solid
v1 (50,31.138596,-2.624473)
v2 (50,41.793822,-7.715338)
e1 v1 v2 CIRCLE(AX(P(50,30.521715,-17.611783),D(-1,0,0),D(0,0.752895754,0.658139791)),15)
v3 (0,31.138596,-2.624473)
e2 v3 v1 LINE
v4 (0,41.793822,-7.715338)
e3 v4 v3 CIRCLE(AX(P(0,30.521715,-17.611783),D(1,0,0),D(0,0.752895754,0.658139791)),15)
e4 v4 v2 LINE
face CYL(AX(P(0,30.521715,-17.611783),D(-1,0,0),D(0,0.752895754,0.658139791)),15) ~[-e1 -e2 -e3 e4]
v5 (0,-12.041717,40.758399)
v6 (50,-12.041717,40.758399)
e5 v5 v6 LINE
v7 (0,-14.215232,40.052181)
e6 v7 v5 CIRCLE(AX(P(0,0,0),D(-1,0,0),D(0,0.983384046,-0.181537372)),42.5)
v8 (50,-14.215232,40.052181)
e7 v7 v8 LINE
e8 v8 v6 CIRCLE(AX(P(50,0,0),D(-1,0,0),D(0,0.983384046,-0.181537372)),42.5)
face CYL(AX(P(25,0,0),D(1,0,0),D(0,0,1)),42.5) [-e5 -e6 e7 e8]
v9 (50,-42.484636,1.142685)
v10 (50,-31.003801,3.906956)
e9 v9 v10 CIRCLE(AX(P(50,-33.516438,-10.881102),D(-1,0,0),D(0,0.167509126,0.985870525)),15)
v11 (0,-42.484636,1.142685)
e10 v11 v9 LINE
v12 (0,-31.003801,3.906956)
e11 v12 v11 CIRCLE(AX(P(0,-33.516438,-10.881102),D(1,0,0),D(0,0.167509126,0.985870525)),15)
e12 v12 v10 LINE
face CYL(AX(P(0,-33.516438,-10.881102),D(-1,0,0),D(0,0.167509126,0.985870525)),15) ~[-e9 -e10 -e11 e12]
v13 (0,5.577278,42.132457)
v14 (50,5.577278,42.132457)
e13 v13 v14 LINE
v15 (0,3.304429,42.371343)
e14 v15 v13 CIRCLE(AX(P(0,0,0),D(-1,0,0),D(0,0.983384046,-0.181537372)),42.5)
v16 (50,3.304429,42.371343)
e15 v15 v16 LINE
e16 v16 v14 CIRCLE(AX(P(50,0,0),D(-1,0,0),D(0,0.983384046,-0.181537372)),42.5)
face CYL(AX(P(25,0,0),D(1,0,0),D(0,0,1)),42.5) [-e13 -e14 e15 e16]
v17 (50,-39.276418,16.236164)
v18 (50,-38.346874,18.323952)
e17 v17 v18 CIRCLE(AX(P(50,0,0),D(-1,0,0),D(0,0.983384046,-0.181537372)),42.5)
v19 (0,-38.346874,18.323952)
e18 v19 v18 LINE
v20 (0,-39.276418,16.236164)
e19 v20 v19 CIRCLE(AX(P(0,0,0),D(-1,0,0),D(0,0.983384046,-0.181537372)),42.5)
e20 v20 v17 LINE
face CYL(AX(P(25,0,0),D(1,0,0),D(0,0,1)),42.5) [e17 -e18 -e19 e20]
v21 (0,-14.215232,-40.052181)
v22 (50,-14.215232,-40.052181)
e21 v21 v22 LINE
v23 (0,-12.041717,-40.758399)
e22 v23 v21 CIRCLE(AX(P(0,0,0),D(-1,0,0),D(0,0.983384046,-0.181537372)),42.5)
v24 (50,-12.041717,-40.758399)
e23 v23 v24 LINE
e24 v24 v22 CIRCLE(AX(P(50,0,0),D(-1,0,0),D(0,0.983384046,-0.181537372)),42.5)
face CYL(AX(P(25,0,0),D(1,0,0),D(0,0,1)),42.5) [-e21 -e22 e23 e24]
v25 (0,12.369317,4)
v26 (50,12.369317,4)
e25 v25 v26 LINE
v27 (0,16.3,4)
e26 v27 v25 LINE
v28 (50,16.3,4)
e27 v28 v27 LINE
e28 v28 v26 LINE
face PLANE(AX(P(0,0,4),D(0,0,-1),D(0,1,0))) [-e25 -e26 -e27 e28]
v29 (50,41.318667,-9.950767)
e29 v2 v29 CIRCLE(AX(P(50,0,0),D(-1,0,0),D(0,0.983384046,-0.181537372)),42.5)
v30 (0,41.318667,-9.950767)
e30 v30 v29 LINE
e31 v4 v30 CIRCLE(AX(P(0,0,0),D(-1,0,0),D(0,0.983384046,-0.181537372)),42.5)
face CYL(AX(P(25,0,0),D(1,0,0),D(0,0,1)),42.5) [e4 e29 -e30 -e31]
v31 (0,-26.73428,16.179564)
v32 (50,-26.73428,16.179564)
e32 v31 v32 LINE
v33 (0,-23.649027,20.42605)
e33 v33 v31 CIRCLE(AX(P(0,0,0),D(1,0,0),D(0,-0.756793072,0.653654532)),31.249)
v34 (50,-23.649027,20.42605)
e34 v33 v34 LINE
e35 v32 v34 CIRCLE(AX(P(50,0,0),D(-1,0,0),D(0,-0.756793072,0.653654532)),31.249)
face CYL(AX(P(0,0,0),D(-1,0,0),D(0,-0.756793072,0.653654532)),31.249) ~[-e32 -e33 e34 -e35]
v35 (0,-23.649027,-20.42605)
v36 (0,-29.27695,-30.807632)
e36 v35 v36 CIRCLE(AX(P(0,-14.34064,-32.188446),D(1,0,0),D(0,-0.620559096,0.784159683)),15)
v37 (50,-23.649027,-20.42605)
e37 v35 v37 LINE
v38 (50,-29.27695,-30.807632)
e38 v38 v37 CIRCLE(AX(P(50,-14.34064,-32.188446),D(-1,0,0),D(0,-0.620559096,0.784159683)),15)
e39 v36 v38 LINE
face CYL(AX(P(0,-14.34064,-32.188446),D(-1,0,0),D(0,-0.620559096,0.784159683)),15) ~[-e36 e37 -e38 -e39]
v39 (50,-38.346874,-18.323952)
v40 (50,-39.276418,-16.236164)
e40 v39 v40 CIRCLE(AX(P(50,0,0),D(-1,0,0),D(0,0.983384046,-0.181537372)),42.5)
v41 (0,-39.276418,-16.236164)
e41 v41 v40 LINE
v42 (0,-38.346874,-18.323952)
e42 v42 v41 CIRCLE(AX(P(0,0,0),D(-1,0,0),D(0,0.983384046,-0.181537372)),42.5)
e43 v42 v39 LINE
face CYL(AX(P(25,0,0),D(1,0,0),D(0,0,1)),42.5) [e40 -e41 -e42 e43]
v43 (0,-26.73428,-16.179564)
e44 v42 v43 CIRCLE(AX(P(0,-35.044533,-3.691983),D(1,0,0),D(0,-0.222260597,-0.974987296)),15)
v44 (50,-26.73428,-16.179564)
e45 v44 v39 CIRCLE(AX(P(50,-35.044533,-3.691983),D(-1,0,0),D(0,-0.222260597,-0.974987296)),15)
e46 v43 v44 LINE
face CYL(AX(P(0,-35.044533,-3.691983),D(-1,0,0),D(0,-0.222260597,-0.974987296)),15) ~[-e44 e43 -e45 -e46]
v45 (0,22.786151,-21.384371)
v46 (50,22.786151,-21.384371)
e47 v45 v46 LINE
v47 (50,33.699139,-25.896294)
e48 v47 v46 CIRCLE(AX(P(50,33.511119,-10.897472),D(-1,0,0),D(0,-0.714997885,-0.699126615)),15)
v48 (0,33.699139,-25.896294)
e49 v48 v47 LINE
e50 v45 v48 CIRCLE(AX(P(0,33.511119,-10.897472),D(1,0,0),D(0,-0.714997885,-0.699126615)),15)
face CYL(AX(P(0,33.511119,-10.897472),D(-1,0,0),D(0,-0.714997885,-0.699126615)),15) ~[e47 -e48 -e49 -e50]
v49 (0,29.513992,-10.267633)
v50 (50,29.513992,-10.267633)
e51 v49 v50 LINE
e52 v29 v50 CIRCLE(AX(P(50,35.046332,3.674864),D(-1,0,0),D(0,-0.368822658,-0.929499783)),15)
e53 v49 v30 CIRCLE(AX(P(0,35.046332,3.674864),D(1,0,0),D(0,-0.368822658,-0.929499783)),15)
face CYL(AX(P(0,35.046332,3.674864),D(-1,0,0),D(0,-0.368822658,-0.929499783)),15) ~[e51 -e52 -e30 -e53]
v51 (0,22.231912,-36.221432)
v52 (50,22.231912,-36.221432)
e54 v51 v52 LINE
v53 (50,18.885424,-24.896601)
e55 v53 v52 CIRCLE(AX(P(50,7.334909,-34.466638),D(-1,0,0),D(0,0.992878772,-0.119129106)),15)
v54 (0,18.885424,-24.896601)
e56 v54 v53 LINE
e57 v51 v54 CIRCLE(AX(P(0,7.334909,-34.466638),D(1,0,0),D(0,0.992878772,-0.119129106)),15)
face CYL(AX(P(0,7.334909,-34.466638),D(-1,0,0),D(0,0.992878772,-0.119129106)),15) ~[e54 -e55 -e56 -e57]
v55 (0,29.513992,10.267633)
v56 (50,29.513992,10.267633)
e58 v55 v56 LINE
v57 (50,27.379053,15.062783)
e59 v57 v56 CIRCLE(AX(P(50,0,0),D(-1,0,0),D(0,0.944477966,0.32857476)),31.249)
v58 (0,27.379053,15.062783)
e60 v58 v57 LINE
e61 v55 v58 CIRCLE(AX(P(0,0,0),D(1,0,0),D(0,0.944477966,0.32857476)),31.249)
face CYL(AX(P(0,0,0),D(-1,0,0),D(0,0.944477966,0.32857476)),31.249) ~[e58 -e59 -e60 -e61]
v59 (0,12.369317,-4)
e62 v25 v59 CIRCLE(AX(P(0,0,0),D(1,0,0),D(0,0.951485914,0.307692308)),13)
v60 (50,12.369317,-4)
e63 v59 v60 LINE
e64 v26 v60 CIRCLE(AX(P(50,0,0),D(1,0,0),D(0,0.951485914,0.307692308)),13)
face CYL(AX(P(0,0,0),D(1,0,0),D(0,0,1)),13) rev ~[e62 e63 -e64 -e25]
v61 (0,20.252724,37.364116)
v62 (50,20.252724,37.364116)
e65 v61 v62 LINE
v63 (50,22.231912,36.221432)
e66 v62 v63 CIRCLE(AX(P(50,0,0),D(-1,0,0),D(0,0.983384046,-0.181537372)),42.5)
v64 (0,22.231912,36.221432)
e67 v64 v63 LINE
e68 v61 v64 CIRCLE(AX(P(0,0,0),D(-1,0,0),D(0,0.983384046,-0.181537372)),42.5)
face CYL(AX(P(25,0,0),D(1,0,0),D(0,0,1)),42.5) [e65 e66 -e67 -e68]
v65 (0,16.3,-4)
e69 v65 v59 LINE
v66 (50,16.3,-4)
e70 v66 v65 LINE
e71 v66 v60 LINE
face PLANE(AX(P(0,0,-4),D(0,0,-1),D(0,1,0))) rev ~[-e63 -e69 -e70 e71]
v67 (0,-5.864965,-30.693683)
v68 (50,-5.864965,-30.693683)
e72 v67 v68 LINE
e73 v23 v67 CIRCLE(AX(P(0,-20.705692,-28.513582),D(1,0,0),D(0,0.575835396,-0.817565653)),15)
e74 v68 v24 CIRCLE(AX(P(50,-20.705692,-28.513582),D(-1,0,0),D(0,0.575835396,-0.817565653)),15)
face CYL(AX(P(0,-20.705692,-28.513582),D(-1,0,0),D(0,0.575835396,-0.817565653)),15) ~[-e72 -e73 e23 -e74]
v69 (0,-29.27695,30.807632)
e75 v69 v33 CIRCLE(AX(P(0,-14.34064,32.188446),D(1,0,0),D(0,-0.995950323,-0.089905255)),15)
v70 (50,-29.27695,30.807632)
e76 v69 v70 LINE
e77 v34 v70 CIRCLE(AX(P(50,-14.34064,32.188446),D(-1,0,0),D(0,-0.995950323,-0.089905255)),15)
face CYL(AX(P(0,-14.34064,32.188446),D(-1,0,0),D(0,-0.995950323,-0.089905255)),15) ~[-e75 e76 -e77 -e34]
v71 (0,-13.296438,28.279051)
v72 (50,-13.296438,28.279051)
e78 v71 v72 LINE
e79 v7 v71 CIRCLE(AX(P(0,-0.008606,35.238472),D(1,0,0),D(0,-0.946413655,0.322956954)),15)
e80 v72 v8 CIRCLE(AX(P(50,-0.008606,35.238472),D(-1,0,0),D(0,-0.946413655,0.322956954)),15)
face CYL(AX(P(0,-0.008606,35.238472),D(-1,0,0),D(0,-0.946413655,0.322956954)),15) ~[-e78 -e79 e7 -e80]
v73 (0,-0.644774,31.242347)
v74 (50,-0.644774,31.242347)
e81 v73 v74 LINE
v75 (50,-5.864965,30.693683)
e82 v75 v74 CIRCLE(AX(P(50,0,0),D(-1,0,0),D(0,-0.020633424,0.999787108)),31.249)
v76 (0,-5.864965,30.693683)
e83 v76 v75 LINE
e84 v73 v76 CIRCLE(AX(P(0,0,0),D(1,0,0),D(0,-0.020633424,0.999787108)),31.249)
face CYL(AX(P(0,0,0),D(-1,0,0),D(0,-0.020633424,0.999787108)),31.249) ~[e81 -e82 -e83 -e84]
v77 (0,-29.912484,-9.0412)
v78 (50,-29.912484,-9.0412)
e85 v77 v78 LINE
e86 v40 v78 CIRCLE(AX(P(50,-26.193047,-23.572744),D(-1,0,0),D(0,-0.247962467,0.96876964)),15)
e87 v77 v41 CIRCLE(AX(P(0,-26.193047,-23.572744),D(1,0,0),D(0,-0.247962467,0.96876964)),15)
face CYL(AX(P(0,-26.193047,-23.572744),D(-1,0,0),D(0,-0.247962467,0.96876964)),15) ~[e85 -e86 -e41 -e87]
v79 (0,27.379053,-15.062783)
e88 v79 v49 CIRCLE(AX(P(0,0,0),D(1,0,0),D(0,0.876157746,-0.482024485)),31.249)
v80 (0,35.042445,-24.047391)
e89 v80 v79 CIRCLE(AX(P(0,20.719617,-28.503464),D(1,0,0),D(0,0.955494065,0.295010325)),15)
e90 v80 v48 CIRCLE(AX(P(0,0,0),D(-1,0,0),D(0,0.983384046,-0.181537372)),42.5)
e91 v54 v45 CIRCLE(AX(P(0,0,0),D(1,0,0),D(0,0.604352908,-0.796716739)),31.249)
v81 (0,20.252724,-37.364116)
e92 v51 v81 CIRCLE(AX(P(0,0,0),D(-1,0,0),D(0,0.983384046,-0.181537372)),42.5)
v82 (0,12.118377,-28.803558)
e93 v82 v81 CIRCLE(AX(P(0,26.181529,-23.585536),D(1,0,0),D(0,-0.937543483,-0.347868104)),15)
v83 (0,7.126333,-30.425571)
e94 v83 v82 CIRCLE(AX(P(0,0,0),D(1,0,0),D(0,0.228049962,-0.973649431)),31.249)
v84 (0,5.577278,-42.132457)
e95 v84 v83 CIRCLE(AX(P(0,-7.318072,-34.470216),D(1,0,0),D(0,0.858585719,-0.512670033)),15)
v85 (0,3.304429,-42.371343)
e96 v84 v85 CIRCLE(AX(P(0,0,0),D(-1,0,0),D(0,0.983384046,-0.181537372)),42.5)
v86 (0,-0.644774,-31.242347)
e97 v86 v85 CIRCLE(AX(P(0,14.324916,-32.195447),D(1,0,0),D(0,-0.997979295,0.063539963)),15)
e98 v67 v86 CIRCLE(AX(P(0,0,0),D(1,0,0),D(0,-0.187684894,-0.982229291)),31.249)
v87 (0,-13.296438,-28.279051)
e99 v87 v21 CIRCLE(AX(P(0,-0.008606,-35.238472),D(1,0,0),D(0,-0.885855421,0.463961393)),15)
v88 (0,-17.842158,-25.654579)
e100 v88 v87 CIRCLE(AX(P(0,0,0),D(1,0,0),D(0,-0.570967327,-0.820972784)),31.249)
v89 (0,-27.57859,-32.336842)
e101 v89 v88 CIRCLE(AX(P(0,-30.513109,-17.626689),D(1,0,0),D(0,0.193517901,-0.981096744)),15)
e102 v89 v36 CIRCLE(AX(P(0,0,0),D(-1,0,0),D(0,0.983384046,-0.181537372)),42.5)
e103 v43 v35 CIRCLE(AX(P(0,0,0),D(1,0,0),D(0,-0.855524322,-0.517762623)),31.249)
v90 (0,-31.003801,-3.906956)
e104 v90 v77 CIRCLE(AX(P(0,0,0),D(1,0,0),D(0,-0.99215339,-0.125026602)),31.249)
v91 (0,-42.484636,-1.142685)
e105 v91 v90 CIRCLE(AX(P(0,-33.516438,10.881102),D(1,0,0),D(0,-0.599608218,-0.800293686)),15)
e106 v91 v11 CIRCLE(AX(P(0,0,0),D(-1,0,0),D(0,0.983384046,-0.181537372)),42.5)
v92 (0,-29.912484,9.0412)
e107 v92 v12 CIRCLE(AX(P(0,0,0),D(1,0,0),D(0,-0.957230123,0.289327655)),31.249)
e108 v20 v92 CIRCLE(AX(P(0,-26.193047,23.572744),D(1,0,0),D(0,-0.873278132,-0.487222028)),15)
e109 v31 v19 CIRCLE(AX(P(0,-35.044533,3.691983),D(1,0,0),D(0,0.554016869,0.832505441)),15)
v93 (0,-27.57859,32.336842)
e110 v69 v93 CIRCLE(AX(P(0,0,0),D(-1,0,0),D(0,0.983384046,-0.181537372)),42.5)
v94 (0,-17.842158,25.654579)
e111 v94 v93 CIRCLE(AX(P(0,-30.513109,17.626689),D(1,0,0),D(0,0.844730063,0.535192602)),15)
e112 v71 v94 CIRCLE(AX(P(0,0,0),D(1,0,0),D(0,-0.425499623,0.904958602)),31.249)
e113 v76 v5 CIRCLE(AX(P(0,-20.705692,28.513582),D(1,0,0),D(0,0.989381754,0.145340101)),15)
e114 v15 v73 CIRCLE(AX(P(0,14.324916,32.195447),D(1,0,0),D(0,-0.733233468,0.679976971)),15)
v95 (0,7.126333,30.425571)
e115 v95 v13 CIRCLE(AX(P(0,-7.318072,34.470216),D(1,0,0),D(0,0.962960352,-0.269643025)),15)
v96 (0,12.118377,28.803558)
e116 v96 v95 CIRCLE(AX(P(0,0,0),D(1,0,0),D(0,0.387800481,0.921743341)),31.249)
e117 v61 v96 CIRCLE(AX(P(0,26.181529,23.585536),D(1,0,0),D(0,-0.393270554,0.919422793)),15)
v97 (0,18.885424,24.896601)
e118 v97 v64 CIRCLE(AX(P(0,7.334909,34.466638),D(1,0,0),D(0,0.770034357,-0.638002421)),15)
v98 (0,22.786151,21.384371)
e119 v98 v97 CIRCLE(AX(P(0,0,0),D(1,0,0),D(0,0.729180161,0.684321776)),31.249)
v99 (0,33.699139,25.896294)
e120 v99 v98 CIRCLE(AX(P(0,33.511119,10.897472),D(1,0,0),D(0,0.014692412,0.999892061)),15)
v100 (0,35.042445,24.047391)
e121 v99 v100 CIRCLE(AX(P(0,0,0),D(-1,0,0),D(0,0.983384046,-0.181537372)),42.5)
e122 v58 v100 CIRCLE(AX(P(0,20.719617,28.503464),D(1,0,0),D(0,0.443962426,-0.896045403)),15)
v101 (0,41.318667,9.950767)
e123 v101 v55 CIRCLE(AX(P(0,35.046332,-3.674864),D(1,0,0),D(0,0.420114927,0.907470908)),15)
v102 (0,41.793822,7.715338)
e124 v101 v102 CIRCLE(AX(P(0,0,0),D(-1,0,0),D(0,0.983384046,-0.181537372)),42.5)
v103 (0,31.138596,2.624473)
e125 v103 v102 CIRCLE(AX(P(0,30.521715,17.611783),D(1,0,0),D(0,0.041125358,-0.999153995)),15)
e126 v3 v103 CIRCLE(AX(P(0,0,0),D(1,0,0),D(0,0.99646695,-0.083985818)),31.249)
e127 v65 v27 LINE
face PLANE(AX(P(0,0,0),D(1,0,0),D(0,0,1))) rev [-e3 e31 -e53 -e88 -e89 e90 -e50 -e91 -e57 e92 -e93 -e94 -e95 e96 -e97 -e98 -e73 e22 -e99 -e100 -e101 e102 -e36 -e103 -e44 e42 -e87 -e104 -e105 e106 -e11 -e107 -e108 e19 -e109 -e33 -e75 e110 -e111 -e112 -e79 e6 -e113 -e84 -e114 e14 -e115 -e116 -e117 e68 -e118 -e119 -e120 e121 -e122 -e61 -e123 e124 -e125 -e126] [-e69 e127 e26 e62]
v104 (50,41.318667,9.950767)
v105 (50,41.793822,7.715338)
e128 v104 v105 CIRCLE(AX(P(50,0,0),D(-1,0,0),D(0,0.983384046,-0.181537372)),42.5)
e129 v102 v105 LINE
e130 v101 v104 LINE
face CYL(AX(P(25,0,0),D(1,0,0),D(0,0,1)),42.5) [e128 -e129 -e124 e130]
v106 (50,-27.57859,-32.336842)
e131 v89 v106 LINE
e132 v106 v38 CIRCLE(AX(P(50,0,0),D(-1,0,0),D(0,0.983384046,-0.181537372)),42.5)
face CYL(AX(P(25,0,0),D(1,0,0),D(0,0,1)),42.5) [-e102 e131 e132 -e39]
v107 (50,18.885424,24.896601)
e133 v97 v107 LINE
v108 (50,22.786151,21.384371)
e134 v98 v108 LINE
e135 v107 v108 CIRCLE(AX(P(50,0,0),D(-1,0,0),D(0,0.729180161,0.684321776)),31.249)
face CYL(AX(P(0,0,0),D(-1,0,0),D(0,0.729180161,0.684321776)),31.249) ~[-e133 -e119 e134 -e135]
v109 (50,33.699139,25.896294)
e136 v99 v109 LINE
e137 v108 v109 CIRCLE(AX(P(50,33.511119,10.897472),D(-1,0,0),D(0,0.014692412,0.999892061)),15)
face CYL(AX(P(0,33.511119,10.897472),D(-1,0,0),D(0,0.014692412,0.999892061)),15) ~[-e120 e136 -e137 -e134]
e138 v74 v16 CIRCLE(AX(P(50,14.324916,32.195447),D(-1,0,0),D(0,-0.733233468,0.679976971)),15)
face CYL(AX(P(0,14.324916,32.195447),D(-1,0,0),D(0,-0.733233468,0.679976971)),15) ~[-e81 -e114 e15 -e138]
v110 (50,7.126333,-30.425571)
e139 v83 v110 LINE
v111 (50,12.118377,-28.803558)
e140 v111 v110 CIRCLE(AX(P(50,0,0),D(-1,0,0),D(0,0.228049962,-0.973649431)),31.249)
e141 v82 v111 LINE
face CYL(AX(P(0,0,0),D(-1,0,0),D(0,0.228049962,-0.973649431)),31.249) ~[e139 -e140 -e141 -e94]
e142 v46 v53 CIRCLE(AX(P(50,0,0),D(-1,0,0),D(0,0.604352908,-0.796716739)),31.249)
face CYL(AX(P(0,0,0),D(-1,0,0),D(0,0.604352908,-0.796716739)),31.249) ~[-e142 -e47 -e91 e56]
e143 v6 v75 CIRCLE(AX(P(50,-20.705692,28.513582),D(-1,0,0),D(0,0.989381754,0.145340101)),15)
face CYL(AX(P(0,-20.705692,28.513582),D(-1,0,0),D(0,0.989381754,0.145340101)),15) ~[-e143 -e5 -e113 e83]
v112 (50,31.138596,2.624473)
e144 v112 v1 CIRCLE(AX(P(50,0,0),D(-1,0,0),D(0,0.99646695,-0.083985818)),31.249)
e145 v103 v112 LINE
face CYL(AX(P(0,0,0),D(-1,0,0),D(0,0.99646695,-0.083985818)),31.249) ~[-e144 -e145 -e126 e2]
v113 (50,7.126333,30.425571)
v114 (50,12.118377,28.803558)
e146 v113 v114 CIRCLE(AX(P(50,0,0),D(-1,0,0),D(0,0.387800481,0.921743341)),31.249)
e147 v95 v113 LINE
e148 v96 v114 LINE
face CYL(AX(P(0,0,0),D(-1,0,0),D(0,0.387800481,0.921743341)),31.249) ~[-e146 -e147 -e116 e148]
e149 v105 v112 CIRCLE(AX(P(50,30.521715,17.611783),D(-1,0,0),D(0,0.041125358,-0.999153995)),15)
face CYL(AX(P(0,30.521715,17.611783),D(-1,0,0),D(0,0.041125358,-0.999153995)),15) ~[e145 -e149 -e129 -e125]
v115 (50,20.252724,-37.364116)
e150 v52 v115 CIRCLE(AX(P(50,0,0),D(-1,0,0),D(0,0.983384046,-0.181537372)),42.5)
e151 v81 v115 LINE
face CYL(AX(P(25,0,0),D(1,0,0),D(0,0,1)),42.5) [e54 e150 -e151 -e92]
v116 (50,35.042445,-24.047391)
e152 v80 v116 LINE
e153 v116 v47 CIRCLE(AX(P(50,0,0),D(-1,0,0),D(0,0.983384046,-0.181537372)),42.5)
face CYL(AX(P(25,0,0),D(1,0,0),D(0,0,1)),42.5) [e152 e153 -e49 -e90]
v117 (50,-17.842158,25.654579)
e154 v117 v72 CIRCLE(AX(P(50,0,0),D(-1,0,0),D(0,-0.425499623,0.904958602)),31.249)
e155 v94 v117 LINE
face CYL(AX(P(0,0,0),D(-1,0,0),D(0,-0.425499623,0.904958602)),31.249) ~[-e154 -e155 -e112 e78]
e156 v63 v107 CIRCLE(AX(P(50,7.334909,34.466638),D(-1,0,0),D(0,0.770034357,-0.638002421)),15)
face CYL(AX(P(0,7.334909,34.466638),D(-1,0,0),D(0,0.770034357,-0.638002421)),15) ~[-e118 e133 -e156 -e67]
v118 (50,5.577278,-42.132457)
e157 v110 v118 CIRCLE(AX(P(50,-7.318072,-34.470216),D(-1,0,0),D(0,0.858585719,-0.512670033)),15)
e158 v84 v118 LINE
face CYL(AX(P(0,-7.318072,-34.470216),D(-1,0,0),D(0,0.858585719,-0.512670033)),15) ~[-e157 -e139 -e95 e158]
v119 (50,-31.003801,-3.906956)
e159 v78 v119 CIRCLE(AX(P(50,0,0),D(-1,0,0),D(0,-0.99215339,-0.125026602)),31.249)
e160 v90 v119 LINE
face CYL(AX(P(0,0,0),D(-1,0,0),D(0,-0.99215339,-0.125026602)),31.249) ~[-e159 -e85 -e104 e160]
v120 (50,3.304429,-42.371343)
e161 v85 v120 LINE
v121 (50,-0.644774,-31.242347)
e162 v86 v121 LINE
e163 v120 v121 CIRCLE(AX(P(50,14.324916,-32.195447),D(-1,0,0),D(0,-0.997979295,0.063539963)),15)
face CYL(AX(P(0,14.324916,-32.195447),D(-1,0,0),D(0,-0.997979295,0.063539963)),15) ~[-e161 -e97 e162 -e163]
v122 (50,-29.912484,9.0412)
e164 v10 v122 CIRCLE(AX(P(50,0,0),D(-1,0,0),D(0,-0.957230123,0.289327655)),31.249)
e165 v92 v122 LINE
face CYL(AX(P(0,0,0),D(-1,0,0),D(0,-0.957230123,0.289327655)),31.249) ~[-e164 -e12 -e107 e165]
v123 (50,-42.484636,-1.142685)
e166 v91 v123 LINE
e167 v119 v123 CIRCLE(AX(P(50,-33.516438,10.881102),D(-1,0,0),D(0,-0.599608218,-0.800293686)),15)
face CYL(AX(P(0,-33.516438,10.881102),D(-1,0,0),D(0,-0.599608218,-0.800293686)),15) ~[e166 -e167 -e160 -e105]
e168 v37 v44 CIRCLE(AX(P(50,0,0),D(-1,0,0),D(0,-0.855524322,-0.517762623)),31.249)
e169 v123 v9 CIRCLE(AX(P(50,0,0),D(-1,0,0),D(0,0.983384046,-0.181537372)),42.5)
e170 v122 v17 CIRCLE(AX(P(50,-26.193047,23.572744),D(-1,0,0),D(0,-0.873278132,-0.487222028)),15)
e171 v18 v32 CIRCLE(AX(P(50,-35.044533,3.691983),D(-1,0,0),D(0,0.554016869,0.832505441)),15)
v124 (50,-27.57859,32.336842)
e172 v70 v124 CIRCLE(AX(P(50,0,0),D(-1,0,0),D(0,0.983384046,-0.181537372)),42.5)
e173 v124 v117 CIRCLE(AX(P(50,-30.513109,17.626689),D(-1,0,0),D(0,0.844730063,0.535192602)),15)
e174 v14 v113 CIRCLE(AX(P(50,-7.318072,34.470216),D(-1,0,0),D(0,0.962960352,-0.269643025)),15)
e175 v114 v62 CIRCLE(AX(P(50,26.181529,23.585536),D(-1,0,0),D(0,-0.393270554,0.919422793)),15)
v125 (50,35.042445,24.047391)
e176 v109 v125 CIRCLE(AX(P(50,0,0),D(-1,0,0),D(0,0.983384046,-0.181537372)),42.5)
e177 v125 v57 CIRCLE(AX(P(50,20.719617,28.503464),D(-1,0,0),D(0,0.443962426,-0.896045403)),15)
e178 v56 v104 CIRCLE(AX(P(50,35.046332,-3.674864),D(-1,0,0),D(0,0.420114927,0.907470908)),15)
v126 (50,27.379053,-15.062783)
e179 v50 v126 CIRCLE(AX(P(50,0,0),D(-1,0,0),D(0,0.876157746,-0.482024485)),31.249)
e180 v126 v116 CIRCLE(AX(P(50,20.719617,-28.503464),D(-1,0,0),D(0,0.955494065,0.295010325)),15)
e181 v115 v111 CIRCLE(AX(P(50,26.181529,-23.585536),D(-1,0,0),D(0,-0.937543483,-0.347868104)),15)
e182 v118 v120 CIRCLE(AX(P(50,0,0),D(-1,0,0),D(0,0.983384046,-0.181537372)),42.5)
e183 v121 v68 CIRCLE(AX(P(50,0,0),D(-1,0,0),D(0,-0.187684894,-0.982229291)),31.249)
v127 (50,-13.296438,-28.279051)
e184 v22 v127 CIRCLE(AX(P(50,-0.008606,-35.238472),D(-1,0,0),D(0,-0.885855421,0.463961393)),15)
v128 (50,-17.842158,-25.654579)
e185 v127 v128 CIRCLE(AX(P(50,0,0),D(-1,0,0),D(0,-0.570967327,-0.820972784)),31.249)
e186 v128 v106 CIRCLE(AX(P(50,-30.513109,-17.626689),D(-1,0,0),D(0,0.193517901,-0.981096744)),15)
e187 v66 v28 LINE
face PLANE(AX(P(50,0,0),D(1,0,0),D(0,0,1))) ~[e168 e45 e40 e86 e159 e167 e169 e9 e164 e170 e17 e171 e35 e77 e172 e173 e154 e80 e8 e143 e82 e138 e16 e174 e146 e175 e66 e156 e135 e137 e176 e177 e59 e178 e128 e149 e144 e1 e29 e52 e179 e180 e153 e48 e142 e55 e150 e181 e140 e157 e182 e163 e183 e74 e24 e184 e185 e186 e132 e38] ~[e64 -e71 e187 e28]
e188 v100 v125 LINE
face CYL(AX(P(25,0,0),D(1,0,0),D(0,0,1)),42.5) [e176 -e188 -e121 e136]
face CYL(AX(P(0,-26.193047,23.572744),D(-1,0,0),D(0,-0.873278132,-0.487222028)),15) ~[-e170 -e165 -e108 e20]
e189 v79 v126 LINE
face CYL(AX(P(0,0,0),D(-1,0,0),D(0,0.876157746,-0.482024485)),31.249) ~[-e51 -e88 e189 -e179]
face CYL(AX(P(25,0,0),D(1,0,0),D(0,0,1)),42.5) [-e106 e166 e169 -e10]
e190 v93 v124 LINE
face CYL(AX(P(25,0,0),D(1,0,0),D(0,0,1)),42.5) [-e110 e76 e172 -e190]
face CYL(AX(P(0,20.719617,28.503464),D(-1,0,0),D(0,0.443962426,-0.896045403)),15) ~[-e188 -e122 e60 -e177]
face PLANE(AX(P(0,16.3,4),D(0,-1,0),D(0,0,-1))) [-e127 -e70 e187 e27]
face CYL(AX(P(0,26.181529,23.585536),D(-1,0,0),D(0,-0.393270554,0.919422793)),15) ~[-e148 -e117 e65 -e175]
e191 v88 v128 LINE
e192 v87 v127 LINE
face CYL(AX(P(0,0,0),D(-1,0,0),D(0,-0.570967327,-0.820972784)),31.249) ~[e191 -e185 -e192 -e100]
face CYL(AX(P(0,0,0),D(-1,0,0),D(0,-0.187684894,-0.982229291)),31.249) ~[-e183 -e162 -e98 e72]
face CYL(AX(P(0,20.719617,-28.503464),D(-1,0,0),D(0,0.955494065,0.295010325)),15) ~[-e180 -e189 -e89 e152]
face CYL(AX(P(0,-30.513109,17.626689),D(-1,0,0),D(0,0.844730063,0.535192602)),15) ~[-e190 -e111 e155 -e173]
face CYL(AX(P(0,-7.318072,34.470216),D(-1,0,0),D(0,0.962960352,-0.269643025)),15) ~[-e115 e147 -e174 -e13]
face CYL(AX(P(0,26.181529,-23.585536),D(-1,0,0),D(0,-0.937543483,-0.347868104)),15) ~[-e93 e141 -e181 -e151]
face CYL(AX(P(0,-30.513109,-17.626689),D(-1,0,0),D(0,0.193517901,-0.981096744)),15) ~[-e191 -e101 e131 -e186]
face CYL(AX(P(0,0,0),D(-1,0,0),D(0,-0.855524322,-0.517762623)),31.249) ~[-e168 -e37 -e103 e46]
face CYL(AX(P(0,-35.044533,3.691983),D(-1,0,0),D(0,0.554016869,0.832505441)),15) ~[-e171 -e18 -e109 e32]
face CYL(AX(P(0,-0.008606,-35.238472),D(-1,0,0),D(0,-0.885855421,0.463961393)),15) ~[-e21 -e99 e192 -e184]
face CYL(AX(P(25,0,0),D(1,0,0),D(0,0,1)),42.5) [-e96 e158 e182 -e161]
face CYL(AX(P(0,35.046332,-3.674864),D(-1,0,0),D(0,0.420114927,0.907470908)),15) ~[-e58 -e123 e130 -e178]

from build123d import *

# Parameters (mm, degrees)
BASPROSKE_W     = 50
BASPROSKE_H     = 42.5
TOOTHCUT_DEPTH  = 79.182478856
TEETHCUTS_COUNT = 15
TEETHCUTS_ANGLE = 336
BORSKE_R        = 13
BORE_DEPTH      = 50.0000508
KEYSKE_W        = 8
KEYSKE_H        = 16.3
KEYWAY_DEPTH    = 50.0000508


with BuildPart() as part:
    # BasProSke → Base-Revolve (revolve)
    with BuildSketch(Plane(origin=(0, 0, 0), x_dir=(1, 0, 0), z_dir=(0, 1, 0)), mode=Mode.PRIVATE) as base_revolve_sk:
        with Locations((25, 21.25)):
            Rectangle(BASPROSKE_W, BASPROSKE_H)
    revolve(base_revolve_sk.sketch.rotate(Axis((-10, 0, 0), (1, 0, 0)), 180), axis=Axis((-10, 0, 0), (1, 0, 0)))

    # TooCutSke → ToothCut (cut, through all)
    with BuildSketch(Plane(origin=(0, 0, 0), x_dir=(0, 0, -1), z_dir=(1, 0, 0))):
        with BuildLine():
            ThreePointArc((2.624472836, 31.138595719), (0, 31.249), (-2.624472836, 31.138595719))
            ThreePointArc((-2.624472836, 31.138595719), (-4.084227986, 37.002862003), (-7.739685892, 41.815151649))
            ThreePointArc((-7.739685892, 41.815151649), (0, 42.5254), (7.739685892, 41.815151649))
            ThreePointArc((7.739685892, 41.815151649), (4.084227986, 37.002862003), (2.624472836, 31.138595719))
        make_face()
    toothcut = extrude(amount=TOOTHCUT_DEPTH, mode=Mode.SUBTRACT)

    # TeethCuts: ToothCut ×15 about axis
    teethcuts_axis = Axis((-10, 0, 0), (1, 0, 0))
    for i in range(1, TEETHCUTS_COUNT):
        add(toothcut.rotate(teethcuts_axis, i * TEETHCUTS_ANGLE / (TEETHCUTS_COUNT - 1)), mode=Mode.SUBTRACT)

    # BorSke → Bore (cut, symmetric)
    with BuildSketch(Plane(origin=(0, 0, 0), x_dir=(0, 0, -1), z_dir=(1, 0, 0))):
        with Locations(Location((0, 0, 0), (0, 0, 180))):
            Circle(BORSKE_R)
    extrude(amount=BORE_DEPTH, both=True, mode=Mode.SUBTRACT)

    # KeySke → Keyway (cut, symmetric)
    with BuildSketch(Plane(origin=(0, 0, 0), x_dir=(0, 0, -1), z_dir=(1, 0, 0))):
        with Locations((0, 8.15)):
            Rectangle(KEYSKE_W, KEYSKE_H)
    extrude(amount=KEYWAY_DEPTH, both=True, mode=Mode.SUBTRACT)


solid = part.part
